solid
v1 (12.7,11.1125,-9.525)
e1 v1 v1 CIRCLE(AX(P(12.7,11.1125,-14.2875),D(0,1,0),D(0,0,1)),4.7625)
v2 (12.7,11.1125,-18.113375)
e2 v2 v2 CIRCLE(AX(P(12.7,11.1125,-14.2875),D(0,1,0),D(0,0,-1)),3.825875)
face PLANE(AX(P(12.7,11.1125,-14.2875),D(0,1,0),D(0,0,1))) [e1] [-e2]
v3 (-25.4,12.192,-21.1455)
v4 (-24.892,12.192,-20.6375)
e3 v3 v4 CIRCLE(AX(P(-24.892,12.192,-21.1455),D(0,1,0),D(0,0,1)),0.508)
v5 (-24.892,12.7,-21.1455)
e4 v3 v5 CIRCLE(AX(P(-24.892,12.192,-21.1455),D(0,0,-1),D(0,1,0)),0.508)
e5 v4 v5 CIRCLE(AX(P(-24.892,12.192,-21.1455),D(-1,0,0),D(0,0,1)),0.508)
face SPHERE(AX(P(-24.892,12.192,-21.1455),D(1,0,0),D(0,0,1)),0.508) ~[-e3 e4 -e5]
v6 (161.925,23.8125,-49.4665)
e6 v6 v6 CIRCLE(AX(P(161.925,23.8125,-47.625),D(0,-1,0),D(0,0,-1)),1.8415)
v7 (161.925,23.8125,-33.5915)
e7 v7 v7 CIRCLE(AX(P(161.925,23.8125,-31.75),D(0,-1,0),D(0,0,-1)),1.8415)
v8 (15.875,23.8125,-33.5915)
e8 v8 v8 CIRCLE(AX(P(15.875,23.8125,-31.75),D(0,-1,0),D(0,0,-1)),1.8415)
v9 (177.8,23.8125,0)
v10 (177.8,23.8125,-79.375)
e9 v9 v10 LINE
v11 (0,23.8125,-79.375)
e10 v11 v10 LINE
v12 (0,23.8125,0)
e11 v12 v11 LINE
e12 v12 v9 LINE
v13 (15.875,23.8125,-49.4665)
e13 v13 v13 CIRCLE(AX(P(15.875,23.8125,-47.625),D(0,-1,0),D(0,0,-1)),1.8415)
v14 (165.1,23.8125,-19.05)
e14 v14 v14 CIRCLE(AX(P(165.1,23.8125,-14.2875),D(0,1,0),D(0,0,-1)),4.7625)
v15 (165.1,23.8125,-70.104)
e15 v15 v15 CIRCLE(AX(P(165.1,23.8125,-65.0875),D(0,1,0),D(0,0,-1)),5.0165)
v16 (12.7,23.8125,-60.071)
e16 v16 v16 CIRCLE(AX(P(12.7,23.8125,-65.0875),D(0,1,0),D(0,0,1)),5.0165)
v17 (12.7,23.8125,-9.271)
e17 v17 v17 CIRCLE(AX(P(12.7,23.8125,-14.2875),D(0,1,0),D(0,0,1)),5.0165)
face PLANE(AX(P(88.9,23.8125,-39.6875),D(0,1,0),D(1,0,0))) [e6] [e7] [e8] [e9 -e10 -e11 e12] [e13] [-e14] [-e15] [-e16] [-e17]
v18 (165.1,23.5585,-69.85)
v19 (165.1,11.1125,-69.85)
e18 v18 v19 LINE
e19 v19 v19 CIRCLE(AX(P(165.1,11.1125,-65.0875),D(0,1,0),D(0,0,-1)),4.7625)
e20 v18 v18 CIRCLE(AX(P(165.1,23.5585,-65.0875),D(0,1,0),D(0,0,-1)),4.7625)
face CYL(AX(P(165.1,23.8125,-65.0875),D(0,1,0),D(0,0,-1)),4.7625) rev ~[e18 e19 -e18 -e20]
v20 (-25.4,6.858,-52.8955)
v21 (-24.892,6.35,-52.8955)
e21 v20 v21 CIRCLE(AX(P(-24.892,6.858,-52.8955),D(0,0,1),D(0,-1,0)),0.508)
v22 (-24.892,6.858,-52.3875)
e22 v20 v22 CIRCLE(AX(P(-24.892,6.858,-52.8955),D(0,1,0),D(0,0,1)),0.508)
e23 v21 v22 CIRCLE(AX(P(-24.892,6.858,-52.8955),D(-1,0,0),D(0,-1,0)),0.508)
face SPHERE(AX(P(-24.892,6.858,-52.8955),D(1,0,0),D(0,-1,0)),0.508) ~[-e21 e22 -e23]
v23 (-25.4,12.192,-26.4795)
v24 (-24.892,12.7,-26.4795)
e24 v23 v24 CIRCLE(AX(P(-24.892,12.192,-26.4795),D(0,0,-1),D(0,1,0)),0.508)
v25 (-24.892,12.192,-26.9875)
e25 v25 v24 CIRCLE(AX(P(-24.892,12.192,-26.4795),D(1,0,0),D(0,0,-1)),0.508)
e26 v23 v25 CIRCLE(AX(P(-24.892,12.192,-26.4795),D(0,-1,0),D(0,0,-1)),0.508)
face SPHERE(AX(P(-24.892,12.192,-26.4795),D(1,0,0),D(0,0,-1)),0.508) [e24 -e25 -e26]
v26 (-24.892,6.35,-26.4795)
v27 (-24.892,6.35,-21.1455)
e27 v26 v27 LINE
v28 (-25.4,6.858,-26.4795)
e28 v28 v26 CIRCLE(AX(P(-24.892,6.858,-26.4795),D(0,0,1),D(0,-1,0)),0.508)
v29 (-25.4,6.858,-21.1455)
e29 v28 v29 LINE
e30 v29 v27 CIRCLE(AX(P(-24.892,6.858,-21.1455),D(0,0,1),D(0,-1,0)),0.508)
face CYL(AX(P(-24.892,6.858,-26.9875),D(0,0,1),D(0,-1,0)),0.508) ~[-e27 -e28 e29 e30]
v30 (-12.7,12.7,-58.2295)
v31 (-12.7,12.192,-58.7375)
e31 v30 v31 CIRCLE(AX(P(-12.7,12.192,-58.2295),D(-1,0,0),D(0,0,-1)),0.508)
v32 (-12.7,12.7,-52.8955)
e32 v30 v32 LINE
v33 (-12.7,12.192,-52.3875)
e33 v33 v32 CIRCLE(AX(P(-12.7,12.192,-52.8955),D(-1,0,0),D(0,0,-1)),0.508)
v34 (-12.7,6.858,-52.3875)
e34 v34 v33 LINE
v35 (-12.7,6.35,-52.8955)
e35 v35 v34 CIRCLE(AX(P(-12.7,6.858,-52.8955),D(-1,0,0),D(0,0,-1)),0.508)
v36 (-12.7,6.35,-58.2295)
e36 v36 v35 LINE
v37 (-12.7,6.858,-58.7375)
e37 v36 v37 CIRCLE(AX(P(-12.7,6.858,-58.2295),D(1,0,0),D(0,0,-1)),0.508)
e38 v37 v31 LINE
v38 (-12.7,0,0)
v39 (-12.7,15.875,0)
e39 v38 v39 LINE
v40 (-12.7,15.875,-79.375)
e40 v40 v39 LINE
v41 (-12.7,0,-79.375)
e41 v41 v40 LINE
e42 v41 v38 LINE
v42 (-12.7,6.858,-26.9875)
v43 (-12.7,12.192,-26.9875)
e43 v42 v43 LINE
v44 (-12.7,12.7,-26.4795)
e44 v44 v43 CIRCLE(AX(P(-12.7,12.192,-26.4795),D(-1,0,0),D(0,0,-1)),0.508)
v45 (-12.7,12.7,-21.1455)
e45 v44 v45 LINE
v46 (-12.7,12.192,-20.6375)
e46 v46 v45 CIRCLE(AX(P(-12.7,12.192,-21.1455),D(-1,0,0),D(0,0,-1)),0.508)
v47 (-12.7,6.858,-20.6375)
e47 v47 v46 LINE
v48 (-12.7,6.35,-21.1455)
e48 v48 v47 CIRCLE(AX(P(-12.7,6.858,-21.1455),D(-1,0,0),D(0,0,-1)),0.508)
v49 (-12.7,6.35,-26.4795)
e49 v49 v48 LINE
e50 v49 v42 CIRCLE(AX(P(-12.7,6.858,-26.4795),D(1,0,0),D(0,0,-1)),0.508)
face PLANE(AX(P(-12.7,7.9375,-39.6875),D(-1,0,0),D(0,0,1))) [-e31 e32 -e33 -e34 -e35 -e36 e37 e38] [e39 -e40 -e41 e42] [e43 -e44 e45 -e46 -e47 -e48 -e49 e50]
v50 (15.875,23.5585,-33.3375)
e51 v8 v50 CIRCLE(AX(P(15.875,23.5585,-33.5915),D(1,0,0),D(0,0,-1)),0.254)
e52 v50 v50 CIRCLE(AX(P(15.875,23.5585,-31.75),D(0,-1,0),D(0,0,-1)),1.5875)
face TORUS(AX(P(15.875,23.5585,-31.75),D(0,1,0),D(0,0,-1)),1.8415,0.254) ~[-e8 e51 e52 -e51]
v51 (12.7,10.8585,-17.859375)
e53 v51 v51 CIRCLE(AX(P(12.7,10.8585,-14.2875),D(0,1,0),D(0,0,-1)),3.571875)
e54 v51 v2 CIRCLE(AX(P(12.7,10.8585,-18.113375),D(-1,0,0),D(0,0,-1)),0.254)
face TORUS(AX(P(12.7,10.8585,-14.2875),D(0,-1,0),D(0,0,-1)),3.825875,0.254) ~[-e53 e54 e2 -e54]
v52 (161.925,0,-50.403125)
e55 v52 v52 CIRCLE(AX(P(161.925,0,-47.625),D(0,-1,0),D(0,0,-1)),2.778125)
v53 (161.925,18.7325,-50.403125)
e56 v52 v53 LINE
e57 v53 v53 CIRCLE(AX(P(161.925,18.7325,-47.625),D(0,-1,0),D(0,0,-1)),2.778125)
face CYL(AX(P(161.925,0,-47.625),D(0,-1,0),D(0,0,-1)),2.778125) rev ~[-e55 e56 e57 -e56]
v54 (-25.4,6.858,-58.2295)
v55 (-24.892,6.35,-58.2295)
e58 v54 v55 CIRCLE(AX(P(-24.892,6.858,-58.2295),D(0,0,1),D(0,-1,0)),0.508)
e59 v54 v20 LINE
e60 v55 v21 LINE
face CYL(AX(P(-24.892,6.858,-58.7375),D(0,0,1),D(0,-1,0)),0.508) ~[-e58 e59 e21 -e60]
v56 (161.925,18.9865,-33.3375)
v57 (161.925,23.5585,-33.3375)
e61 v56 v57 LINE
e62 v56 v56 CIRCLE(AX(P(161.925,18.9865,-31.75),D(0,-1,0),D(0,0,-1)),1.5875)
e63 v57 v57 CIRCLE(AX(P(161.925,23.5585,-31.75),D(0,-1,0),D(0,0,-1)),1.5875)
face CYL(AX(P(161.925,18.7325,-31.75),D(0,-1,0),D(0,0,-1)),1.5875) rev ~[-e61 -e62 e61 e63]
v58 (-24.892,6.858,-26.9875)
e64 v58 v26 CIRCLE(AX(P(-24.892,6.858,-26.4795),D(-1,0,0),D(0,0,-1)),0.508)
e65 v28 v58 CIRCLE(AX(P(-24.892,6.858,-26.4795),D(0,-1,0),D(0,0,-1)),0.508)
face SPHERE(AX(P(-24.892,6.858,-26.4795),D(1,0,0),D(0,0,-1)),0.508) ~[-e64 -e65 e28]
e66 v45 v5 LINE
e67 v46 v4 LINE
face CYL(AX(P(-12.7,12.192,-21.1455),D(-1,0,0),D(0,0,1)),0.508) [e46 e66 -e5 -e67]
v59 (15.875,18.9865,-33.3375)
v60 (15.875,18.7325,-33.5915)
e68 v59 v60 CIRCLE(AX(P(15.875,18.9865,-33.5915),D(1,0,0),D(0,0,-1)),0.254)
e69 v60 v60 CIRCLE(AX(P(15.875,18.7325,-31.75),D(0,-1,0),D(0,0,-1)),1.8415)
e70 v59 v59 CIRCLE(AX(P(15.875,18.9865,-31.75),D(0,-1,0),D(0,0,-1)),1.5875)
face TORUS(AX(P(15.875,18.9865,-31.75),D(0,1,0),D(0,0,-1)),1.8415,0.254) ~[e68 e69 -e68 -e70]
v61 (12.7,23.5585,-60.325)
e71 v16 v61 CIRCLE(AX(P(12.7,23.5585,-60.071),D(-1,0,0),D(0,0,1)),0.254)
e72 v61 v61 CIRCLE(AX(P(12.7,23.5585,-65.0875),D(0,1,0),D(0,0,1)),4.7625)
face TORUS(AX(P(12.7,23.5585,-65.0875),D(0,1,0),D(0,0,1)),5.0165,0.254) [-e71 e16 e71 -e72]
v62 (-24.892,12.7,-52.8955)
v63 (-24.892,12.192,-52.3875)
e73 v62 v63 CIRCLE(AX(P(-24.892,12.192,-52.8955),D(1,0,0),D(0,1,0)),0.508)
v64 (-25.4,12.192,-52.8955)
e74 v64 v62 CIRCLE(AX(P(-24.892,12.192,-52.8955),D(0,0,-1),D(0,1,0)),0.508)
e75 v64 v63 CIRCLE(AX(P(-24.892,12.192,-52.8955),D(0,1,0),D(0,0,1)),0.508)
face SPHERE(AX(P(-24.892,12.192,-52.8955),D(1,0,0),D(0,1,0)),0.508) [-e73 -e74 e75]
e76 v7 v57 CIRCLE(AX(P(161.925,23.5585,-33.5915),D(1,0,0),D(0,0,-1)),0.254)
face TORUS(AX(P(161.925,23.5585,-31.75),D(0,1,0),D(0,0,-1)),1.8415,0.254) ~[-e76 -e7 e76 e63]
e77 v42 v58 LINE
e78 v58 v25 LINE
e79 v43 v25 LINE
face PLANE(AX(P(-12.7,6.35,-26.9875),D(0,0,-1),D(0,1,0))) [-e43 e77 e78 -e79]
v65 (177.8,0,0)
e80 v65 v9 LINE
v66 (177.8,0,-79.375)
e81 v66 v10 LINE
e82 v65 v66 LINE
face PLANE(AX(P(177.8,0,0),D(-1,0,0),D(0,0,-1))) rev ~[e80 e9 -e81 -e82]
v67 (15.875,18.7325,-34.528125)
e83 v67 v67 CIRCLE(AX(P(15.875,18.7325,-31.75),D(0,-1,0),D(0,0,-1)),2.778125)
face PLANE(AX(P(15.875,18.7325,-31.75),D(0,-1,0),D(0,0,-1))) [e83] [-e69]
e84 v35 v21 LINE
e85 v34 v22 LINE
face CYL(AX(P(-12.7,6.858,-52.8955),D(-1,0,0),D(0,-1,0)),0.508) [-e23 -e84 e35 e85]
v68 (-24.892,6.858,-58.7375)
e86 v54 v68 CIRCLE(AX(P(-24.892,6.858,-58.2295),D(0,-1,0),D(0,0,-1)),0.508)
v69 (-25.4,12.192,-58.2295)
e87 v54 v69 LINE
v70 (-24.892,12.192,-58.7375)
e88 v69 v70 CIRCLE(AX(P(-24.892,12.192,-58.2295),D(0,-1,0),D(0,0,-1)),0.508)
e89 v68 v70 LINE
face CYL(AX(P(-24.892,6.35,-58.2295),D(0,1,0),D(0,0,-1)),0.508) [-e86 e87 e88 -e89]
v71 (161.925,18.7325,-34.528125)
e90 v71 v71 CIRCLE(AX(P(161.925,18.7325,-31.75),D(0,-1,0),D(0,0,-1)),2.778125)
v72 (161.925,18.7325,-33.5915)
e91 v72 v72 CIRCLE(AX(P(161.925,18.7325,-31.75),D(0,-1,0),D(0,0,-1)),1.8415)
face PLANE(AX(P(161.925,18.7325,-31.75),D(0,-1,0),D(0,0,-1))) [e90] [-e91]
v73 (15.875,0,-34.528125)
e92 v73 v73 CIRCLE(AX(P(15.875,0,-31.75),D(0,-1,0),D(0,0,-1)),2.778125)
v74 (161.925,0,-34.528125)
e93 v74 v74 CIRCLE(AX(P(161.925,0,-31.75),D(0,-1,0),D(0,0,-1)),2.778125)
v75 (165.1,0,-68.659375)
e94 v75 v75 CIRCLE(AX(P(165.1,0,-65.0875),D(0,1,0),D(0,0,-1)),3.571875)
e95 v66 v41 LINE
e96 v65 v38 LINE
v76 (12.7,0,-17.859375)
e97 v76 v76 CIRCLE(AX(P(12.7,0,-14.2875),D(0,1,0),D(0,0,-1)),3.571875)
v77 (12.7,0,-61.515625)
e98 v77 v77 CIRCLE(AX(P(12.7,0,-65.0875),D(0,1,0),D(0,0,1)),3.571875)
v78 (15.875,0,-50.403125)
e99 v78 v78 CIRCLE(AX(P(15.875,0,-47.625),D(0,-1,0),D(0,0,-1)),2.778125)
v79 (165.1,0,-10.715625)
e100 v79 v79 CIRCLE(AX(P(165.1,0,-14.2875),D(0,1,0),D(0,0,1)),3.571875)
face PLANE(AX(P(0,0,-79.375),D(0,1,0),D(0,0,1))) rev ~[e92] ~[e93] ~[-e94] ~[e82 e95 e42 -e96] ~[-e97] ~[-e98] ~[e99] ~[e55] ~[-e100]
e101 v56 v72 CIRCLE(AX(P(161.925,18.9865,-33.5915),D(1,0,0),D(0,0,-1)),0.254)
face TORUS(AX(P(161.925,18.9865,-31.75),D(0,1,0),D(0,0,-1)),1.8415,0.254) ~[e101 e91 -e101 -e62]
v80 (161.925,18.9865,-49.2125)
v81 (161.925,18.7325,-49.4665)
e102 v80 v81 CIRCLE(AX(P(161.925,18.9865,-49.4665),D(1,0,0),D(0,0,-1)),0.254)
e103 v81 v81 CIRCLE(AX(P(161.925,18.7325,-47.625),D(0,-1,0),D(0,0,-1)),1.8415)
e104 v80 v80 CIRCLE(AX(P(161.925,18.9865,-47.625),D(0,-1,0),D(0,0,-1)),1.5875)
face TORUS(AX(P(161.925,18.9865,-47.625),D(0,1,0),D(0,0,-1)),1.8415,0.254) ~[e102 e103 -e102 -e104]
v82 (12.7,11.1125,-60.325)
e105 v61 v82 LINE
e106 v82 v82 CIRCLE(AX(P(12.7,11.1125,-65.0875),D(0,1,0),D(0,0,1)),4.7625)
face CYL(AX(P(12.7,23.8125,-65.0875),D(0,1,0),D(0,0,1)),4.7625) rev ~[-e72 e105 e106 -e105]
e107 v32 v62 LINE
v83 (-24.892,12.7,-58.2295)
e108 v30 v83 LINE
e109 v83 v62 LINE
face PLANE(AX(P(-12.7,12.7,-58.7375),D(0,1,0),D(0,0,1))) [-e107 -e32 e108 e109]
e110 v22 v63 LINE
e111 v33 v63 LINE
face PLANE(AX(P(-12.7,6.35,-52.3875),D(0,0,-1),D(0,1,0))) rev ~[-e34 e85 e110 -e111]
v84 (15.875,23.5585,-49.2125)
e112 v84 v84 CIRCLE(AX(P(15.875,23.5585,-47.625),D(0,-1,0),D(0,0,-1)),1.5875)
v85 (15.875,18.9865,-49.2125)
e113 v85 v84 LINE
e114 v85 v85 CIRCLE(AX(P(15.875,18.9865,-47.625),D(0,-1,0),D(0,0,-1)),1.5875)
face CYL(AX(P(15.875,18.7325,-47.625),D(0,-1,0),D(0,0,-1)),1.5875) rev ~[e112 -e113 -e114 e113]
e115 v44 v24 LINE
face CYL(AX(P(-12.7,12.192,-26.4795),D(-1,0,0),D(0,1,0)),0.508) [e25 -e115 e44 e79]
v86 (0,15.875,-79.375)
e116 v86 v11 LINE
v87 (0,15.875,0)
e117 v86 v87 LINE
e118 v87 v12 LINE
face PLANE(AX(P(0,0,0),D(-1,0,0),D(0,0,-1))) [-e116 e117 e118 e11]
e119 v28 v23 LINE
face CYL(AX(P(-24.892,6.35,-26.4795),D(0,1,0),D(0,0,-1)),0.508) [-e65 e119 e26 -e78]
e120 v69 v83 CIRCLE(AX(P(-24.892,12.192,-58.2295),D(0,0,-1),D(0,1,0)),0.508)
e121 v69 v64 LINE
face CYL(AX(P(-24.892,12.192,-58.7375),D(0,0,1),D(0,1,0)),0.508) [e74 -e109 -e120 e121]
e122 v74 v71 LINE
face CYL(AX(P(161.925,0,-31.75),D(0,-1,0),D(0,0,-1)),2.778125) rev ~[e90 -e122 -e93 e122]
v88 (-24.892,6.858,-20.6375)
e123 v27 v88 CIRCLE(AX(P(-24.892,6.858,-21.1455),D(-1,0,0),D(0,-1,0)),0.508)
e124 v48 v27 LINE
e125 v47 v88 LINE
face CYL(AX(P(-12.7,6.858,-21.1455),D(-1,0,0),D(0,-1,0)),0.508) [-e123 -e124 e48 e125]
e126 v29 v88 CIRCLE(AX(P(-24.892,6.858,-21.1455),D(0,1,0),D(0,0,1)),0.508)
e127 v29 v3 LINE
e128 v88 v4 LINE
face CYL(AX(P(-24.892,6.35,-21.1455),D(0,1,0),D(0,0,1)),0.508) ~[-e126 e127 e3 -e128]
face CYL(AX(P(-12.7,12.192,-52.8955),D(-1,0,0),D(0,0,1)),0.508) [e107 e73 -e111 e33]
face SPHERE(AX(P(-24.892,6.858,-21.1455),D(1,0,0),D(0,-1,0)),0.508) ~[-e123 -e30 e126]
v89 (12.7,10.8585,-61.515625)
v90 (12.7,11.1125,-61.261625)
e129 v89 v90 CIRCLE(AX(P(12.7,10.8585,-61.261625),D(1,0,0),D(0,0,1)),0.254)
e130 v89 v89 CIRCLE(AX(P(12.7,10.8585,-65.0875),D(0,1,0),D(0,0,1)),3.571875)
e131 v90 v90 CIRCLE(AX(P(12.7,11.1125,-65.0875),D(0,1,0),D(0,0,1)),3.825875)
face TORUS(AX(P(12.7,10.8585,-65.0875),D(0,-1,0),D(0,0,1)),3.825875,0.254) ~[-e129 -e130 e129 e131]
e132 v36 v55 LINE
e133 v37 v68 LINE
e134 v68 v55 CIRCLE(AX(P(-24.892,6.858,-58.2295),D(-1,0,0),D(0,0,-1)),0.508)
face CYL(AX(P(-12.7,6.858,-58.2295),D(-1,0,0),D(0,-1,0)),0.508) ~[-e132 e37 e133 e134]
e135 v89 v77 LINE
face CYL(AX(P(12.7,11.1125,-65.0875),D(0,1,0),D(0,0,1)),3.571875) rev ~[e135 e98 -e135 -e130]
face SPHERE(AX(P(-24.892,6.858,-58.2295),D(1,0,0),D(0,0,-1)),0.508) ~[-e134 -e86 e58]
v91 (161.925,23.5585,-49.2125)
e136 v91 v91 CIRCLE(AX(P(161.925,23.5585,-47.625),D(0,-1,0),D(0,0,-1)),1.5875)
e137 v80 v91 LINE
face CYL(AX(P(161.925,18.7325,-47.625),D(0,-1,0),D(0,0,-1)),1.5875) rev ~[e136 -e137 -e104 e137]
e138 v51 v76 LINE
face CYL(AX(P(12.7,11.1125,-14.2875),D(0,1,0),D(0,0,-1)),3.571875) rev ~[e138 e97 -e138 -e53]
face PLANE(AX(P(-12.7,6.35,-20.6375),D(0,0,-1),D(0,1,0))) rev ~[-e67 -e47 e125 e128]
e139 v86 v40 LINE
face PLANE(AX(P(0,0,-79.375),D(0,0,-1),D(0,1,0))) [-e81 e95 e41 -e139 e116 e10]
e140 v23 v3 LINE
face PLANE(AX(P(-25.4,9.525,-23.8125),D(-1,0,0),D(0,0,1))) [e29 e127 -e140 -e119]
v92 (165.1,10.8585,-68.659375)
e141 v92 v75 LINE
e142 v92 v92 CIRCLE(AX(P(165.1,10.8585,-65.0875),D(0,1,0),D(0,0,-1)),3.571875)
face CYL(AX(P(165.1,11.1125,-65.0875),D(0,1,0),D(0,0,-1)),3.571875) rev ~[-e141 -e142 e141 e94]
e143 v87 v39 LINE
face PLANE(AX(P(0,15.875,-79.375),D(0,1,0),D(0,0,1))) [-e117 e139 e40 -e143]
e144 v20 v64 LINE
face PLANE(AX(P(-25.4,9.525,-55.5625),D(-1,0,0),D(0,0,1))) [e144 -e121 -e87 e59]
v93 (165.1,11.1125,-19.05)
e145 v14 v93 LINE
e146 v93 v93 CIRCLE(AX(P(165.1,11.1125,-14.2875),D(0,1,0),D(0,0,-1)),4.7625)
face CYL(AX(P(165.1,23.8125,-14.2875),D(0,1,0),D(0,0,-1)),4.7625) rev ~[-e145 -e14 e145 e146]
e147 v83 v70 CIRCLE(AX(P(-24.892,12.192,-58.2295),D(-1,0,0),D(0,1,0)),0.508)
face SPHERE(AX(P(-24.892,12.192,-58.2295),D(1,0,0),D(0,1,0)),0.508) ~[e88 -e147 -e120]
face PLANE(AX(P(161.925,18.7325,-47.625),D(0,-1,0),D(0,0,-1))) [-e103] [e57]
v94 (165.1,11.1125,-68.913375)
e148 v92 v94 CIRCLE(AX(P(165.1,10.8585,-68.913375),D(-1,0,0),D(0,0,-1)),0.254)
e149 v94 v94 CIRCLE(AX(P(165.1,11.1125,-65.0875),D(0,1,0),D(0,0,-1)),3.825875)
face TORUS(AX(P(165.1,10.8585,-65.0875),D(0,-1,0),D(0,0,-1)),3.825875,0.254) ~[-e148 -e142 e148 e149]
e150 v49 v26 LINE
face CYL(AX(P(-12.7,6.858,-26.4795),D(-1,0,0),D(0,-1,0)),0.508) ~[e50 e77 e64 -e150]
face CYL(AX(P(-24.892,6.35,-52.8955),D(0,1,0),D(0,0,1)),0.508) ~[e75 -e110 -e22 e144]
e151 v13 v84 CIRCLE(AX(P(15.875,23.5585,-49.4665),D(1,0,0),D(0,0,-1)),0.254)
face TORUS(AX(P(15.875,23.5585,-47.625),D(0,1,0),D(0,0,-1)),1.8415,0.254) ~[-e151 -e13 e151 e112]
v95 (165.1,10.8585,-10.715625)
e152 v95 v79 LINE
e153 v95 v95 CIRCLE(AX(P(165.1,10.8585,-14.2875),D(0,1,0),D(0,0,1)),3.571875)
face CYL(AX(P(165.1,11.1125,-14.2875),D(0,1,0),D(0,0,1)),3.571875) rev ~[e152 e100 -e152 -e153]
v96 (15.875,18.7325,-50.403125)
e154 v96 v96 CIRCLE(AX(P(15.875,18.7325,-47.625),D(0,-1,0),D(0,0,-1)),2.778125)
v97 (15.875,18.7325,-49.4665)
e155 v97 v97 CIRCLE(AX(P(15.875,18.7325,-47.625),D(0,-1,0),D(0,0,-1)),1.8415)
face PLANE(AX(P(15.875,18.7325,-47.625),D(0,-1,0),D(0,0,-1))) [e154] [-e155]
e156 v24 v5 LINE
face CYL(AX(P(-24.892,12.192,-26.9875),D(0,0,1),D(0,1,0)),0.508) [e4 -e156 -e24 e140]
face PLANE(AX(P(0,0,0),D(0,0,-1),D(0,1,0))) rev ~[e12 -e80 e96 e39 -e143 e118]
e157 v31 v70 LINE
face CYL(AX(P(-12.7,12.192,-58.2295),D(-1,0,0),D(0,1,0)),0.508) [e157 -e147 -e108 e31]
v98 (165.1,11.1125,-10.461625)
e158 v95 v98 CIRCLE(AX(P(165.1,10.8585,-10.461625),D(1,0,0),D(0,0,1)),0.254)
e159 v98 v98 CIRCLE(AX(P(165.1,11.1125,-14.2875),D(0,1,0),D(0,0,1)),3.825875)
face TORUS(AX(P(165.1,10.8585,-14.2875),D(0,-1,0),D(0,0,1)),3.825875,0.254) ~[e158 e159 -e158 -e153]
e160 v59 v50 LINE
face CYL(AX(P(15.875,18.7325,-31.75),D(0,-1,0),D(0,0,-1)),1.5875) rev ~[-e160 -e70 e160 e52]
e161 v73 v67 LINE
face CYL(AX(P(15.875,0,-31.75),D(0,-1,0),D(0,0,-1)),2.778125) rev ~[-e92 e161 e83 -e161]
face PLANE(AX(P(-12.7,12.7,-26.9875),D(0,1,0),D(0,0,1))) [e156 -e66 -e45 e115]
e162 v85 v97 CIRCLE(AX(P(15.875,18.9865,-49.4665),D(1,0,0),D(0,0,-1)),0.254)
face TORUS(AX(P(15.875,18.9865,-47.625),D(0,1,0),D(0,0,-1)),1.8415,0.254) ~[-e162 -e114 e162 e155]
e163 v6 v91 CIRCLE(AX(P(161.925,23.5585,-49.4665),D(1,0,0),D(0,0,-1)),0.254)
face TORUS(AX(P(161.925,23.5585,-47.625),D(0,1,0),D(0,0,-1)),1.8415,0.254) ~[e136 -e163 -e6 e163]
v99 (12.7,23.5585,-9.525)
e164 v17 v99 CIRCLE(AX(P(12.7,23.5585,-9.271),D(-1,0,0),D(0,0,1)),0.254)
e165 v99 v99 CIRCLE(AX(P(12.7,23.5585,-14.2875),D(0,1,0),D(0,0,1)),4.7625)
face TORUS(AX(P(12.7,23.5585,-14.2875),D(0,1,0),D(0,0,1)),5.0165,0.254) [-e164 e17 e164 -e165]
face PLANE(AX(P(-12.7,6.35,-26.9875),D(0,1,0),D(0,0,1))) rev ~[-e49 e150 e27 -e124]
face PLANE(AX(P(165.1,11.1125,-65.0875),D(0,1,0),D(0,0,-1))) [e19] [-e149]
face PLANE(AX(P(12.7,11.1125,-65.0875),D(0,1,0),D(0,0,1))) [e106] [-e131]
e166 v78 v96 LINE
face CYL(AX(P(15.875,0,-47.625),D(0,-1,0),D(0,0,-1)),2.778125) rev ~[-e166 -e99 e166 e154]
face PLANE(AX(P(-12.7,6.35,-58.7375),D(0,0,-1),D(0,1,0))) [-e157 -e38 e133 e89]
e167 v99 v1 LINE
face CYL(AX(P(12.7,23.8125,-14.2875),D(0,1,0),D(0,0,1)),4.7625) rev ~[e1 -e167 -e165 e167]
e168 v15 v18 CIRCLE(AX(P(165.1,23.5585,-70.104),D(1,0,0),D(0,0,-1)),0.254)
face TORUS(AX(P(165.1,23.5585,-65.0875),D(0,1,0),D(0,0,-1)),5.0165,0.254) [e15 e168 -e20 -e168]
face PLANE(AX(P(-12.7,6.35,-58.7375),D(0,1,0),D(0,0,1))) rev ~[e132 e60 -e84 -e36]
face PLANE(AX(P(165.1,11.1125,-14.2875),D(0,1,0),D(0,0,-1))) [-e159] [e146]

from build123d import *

# Parameters (mm, degrees)
SKETCH1_W           = 177.8
SKETCH1_H           = 79.375
BOSS_EXTRUDE1_DEPTH = 23.8125
SKETCH2_R           = 4.7625
CUT_EXTRUDE1_DEPTH  = 12.7
SKETCH3_R           = 3.571875
CUT_EXTRUDE2_DEPTH  = 11.1125
SKETCH4_R           = 2.778125
CUT_EXTRUDE3_DEPTH  = 18.7325
CUT_EXTRUDE4_REACH  = 197.612
SKETCH10_R          = 1.5875
FILLET1_R           = 0.254
SKETCH9_W           = 79.375
SKETCH9_H           = 15.875
BOSS_EXTRUDE3_DEPTH = 12.7
SKETCH11_W          = 6.35
SKETCH11_H          = 6.35
BOSS_EXTRUDE4_DEPTH = 12.7
FILLET2_R           = 0.508


with BuildPart() as part:
    # Sketch1 → Boss-Extrude1 (new body)
    with BuildSketch(Plane(origin=(0, 0, 0), x_dir=(1, 0, 0), z_dir=(0, 1, 0))):
        with Locations((88.9, 39.6875)):
            Rectangle(SKETCH1_W, SKETCH1_H)
    extrude(amount=BOSS_EXTRUDE1_DEPTH)

    # Sketch2 → Cut-Extrude1 (cut)
    with BuildSketch(Plane(origin=(0, 23.8125, 0), x_dir=(1, 0, 0), z_dir=(0, 1, 0))):
        with Locations(Location((12.7, 65.0875, 0), (0, 0, 270))):
            Circle(SKETCH2_R)
        with Locations(Location((12.7, 14.2875, 0), (0, 0, 270))):
            Circle(SKETCH2_R)
        with Locations(Location((165.1, 14.2875, 0), (0, 0, 90))):
            Circle(SKETCH2_R)
        with Locations(Location((165.1, 65.0875, 0), (0, 0, 90))):
            Circle(SKETCH2_R)
    extrude(amount=-CUT_EXTRUDE1_DEPTH, mode=Mode.SUBTRACT)

    # Sketch3 → Cut-Extrude2 (cut)
    with BuildSketch(Plane(origin=(0, 11.1125, 0), x_dir=(1, 0, 0), z_dir=(0, 1, 0))):
        with Locations(Location((12.7, 65.0875, 0), (0, 0, 270))):
            Circle(SKETCH3_R)
        with Locations(Location((12.7, 14.2875, 0), (0, 0, 90))):
            Circle(SKETCH3_R)
        with Locations(Location((165.1, 14.2875, 0), (0, 0, 270))):
            Circle(SKETCH3_R)
        with Locations(Location((165.1, 65.0875, 0), (0, 0, 90))):
            Circle(SKETCH3_R)
    extrude(amount=-CUT_EXTRUDE2_DEPTH, mode=Mode.SUBTRACT)

    # Sketch4 → Cut-Extrude3 (cut)
    with BuildSketch(Plane.XZ):
        with Locations(Location((15.875, -31.75, 0), (0, 0, 270))):
            Circle(SKETCH4_R)
        with Locations(Location((15.875, -47.625, 0), (0, 0, 270))):
            Circle(SKETCH4_R)
        with Locations(Location((161.925, -47.625, 0), (0, 0, 270))):
            Circle(SKETCH4_R)
        with Locations(Location((161.925, -31.75, 0), (0, 0, 270))):
            Circle(SKETCH4_R)
    extrude(amount=-CUT_EXTRUDE3_DEPTH, mode=Mode.SUBTRACT)

    # Sketch10 → Cut-Extrude4 (cut, up to next)
    with BuildSketch(Plane.XZ.offset(-18.7325), mode=Mode.PRIVATE) as cut_extrude4_sk1:
        with Locations(Location((15.875, -31.75, 0), (0, 0, 270))):
            Circle(SKETCH10_R)
    cut_extrude4_tool1 = extrude(cut_extrude4_sk1.sketch, amount=-CUT_EXTRUDE4_REACH, mode=Mode.PRIVATE) & part.part
    # Sketch10 → Cut-Extrude4 (cut, up to next)
    with BuildSketch(Plane.XZ.offset(-18.7325), mode=Mode.PRIVATE) as cut_extrude4_sk2:
        with Locations(Location((15.875, -47.625, 0), (0, 0, 270))):
            Circle(SKETCH10_R)
    cut_extrude4_tool2 = extrude(cut_extrude4_sk2.sketch, amount=-CUT_EXTRUDE4_REACH, mode=Mode.PRIVATE) & part.part
    # Sketch10 → Cut-Extrude4 (cut, up to next)
    with BuildSketch(Plane.XZ.offset(-18.7325), mode=Mode.PRIVATE) as cut_extrude4_sk3:
        with Locations(Location((161.925, -47.625, 0), (0, 0, 270))):
            Circle(SKETCH10_R)
    cut_extrude4_tool3 = extrude(cut_extrude4_sk3.sketch, amount=-CUT_EXTRUDE4_REACH, mode=Mode.PRIVATE) & part.part
    # Sketch10 → Cut-Extrude4 (cut, up to next)
    with BuildSketch(Plane.XZ.offset(-18.7325), mode=Mode.PRIVATE) as cut_extrude4_sk4:
        with Locations(Location((161.925, -31.75, 0), (0, 0, 270))):
            Circle(SKETCH10_R)
    cut_extrude4_tool4 = extrude(cut_extrude4_sk4.sketch, amount=-CUT_EXTRUDE4_REACH, mode=Mode.PRIVATE) & part.part
    add(cut_extrude4_tool1.solids().sort_by_distance((15.875, 18.7325, -31.75))[0], mode=Mode.SUBTRACT)
    add(cut_extrude4_tool2.solids().sort_by_distance((15.875, 18.7325, -47.625))[0], mode=Mode.SUBTRACT)
    add(cut_extrude4_tool3.solids().sort_by_distance((161.925, 18.7325, -47.625))[0], mode=Mode.SUBTRACT)
    add(cut_extrude4_tool4.solids().sort_by_distance((161.925, 18.7325, -31.75))[0], mode=Mode.SUBTRACT)

    # Fillet1
    fillet1_edges = [part.edges().sort_by_distance(p)[0] for p in [
        (12.7, 23.8125, -69.85),
        (12.7, 23.8125, -19.05),
        (165.1, 23.8125, -60.325),
        (12.7, 11.1125, -68.659375),
        (12.7, 11.1125, -10.715625),
        (165.1, 11.1125, -17.859375),
        (165.1, 11.1125, -61.515625),
        (15.875, 18.7325, -30.1625),
        (15.875, 23.8125, -30.1625),
        (15.875, 18.7325, -46.0375),
        (15.875, 23.8125, -46.0375),
        (161.925, 18.7325, -46.0375),
        (161.925, 23.8125, -46.0375),
        (161.925, 18.7325, -30.1625),
        (161.925, 23.8125, -30.1625),
    ]]
    fillet(fillet1_edges, radius=FILLET1_R)

    # Sketch9 → Boss-Extrude3 (add)
    with BuildSketch(Plane.ZY):
        with Locations((-39.6875, 7.9375)):
            Rectangle(SKETCH9_W, SKETCH9_H)
    extrude(amount=BOSS_EXTRUDE3_DEPTH)

    # Sketch11 → Boss-Extrude4 (add)
    with BuildSketch(Plane.ZY.offset(12.7)):
        with Locations((-55.5625, 9.525)):
            Rectangle(SKETCH11_W, SKETCH11_H)
        with Locations((-23.8125, 9.525)):
            Rectangle(SKETCH11_W, SKETCH11_H)
    extrude(amount=BOSS_EXTRUDE4_DEPTH)

    # Fillet2
    fillet2_edges = [part.edges().sort_by_distance(p)[0] for p in [
        (-19.05, 12.7, -26.9875),
        (-19.05, 6.35, -26.9875),
        (-19.05, 6.35, -20.6375),
        (-19.05, 12.7, -20.6375),
        (-25.4, 9.525, -26.9875),
        (-25.4, 6.35, -23.8125),
        (-25.4, 9.525, -20.6375),
        (-25.4, 12.7, -23.8125),
        (-19.05, 12.7, -52.3875),
        (-19.05, 12.7, -58.7375),
        (-19.05, 6.35, -58.7375),
        (-19.05, 6.35, -52.3875),
        (-25.4, 12.7, -55.5625),
        (-25.4, 9.525, -58.7375),
        (-25.4, 6.35, -55.5625),
        (-25.4, 9.525, -52.3875),
    ]]
    fillet(fillet2_edges, radius=FILLET2_R)


solid = part.part
